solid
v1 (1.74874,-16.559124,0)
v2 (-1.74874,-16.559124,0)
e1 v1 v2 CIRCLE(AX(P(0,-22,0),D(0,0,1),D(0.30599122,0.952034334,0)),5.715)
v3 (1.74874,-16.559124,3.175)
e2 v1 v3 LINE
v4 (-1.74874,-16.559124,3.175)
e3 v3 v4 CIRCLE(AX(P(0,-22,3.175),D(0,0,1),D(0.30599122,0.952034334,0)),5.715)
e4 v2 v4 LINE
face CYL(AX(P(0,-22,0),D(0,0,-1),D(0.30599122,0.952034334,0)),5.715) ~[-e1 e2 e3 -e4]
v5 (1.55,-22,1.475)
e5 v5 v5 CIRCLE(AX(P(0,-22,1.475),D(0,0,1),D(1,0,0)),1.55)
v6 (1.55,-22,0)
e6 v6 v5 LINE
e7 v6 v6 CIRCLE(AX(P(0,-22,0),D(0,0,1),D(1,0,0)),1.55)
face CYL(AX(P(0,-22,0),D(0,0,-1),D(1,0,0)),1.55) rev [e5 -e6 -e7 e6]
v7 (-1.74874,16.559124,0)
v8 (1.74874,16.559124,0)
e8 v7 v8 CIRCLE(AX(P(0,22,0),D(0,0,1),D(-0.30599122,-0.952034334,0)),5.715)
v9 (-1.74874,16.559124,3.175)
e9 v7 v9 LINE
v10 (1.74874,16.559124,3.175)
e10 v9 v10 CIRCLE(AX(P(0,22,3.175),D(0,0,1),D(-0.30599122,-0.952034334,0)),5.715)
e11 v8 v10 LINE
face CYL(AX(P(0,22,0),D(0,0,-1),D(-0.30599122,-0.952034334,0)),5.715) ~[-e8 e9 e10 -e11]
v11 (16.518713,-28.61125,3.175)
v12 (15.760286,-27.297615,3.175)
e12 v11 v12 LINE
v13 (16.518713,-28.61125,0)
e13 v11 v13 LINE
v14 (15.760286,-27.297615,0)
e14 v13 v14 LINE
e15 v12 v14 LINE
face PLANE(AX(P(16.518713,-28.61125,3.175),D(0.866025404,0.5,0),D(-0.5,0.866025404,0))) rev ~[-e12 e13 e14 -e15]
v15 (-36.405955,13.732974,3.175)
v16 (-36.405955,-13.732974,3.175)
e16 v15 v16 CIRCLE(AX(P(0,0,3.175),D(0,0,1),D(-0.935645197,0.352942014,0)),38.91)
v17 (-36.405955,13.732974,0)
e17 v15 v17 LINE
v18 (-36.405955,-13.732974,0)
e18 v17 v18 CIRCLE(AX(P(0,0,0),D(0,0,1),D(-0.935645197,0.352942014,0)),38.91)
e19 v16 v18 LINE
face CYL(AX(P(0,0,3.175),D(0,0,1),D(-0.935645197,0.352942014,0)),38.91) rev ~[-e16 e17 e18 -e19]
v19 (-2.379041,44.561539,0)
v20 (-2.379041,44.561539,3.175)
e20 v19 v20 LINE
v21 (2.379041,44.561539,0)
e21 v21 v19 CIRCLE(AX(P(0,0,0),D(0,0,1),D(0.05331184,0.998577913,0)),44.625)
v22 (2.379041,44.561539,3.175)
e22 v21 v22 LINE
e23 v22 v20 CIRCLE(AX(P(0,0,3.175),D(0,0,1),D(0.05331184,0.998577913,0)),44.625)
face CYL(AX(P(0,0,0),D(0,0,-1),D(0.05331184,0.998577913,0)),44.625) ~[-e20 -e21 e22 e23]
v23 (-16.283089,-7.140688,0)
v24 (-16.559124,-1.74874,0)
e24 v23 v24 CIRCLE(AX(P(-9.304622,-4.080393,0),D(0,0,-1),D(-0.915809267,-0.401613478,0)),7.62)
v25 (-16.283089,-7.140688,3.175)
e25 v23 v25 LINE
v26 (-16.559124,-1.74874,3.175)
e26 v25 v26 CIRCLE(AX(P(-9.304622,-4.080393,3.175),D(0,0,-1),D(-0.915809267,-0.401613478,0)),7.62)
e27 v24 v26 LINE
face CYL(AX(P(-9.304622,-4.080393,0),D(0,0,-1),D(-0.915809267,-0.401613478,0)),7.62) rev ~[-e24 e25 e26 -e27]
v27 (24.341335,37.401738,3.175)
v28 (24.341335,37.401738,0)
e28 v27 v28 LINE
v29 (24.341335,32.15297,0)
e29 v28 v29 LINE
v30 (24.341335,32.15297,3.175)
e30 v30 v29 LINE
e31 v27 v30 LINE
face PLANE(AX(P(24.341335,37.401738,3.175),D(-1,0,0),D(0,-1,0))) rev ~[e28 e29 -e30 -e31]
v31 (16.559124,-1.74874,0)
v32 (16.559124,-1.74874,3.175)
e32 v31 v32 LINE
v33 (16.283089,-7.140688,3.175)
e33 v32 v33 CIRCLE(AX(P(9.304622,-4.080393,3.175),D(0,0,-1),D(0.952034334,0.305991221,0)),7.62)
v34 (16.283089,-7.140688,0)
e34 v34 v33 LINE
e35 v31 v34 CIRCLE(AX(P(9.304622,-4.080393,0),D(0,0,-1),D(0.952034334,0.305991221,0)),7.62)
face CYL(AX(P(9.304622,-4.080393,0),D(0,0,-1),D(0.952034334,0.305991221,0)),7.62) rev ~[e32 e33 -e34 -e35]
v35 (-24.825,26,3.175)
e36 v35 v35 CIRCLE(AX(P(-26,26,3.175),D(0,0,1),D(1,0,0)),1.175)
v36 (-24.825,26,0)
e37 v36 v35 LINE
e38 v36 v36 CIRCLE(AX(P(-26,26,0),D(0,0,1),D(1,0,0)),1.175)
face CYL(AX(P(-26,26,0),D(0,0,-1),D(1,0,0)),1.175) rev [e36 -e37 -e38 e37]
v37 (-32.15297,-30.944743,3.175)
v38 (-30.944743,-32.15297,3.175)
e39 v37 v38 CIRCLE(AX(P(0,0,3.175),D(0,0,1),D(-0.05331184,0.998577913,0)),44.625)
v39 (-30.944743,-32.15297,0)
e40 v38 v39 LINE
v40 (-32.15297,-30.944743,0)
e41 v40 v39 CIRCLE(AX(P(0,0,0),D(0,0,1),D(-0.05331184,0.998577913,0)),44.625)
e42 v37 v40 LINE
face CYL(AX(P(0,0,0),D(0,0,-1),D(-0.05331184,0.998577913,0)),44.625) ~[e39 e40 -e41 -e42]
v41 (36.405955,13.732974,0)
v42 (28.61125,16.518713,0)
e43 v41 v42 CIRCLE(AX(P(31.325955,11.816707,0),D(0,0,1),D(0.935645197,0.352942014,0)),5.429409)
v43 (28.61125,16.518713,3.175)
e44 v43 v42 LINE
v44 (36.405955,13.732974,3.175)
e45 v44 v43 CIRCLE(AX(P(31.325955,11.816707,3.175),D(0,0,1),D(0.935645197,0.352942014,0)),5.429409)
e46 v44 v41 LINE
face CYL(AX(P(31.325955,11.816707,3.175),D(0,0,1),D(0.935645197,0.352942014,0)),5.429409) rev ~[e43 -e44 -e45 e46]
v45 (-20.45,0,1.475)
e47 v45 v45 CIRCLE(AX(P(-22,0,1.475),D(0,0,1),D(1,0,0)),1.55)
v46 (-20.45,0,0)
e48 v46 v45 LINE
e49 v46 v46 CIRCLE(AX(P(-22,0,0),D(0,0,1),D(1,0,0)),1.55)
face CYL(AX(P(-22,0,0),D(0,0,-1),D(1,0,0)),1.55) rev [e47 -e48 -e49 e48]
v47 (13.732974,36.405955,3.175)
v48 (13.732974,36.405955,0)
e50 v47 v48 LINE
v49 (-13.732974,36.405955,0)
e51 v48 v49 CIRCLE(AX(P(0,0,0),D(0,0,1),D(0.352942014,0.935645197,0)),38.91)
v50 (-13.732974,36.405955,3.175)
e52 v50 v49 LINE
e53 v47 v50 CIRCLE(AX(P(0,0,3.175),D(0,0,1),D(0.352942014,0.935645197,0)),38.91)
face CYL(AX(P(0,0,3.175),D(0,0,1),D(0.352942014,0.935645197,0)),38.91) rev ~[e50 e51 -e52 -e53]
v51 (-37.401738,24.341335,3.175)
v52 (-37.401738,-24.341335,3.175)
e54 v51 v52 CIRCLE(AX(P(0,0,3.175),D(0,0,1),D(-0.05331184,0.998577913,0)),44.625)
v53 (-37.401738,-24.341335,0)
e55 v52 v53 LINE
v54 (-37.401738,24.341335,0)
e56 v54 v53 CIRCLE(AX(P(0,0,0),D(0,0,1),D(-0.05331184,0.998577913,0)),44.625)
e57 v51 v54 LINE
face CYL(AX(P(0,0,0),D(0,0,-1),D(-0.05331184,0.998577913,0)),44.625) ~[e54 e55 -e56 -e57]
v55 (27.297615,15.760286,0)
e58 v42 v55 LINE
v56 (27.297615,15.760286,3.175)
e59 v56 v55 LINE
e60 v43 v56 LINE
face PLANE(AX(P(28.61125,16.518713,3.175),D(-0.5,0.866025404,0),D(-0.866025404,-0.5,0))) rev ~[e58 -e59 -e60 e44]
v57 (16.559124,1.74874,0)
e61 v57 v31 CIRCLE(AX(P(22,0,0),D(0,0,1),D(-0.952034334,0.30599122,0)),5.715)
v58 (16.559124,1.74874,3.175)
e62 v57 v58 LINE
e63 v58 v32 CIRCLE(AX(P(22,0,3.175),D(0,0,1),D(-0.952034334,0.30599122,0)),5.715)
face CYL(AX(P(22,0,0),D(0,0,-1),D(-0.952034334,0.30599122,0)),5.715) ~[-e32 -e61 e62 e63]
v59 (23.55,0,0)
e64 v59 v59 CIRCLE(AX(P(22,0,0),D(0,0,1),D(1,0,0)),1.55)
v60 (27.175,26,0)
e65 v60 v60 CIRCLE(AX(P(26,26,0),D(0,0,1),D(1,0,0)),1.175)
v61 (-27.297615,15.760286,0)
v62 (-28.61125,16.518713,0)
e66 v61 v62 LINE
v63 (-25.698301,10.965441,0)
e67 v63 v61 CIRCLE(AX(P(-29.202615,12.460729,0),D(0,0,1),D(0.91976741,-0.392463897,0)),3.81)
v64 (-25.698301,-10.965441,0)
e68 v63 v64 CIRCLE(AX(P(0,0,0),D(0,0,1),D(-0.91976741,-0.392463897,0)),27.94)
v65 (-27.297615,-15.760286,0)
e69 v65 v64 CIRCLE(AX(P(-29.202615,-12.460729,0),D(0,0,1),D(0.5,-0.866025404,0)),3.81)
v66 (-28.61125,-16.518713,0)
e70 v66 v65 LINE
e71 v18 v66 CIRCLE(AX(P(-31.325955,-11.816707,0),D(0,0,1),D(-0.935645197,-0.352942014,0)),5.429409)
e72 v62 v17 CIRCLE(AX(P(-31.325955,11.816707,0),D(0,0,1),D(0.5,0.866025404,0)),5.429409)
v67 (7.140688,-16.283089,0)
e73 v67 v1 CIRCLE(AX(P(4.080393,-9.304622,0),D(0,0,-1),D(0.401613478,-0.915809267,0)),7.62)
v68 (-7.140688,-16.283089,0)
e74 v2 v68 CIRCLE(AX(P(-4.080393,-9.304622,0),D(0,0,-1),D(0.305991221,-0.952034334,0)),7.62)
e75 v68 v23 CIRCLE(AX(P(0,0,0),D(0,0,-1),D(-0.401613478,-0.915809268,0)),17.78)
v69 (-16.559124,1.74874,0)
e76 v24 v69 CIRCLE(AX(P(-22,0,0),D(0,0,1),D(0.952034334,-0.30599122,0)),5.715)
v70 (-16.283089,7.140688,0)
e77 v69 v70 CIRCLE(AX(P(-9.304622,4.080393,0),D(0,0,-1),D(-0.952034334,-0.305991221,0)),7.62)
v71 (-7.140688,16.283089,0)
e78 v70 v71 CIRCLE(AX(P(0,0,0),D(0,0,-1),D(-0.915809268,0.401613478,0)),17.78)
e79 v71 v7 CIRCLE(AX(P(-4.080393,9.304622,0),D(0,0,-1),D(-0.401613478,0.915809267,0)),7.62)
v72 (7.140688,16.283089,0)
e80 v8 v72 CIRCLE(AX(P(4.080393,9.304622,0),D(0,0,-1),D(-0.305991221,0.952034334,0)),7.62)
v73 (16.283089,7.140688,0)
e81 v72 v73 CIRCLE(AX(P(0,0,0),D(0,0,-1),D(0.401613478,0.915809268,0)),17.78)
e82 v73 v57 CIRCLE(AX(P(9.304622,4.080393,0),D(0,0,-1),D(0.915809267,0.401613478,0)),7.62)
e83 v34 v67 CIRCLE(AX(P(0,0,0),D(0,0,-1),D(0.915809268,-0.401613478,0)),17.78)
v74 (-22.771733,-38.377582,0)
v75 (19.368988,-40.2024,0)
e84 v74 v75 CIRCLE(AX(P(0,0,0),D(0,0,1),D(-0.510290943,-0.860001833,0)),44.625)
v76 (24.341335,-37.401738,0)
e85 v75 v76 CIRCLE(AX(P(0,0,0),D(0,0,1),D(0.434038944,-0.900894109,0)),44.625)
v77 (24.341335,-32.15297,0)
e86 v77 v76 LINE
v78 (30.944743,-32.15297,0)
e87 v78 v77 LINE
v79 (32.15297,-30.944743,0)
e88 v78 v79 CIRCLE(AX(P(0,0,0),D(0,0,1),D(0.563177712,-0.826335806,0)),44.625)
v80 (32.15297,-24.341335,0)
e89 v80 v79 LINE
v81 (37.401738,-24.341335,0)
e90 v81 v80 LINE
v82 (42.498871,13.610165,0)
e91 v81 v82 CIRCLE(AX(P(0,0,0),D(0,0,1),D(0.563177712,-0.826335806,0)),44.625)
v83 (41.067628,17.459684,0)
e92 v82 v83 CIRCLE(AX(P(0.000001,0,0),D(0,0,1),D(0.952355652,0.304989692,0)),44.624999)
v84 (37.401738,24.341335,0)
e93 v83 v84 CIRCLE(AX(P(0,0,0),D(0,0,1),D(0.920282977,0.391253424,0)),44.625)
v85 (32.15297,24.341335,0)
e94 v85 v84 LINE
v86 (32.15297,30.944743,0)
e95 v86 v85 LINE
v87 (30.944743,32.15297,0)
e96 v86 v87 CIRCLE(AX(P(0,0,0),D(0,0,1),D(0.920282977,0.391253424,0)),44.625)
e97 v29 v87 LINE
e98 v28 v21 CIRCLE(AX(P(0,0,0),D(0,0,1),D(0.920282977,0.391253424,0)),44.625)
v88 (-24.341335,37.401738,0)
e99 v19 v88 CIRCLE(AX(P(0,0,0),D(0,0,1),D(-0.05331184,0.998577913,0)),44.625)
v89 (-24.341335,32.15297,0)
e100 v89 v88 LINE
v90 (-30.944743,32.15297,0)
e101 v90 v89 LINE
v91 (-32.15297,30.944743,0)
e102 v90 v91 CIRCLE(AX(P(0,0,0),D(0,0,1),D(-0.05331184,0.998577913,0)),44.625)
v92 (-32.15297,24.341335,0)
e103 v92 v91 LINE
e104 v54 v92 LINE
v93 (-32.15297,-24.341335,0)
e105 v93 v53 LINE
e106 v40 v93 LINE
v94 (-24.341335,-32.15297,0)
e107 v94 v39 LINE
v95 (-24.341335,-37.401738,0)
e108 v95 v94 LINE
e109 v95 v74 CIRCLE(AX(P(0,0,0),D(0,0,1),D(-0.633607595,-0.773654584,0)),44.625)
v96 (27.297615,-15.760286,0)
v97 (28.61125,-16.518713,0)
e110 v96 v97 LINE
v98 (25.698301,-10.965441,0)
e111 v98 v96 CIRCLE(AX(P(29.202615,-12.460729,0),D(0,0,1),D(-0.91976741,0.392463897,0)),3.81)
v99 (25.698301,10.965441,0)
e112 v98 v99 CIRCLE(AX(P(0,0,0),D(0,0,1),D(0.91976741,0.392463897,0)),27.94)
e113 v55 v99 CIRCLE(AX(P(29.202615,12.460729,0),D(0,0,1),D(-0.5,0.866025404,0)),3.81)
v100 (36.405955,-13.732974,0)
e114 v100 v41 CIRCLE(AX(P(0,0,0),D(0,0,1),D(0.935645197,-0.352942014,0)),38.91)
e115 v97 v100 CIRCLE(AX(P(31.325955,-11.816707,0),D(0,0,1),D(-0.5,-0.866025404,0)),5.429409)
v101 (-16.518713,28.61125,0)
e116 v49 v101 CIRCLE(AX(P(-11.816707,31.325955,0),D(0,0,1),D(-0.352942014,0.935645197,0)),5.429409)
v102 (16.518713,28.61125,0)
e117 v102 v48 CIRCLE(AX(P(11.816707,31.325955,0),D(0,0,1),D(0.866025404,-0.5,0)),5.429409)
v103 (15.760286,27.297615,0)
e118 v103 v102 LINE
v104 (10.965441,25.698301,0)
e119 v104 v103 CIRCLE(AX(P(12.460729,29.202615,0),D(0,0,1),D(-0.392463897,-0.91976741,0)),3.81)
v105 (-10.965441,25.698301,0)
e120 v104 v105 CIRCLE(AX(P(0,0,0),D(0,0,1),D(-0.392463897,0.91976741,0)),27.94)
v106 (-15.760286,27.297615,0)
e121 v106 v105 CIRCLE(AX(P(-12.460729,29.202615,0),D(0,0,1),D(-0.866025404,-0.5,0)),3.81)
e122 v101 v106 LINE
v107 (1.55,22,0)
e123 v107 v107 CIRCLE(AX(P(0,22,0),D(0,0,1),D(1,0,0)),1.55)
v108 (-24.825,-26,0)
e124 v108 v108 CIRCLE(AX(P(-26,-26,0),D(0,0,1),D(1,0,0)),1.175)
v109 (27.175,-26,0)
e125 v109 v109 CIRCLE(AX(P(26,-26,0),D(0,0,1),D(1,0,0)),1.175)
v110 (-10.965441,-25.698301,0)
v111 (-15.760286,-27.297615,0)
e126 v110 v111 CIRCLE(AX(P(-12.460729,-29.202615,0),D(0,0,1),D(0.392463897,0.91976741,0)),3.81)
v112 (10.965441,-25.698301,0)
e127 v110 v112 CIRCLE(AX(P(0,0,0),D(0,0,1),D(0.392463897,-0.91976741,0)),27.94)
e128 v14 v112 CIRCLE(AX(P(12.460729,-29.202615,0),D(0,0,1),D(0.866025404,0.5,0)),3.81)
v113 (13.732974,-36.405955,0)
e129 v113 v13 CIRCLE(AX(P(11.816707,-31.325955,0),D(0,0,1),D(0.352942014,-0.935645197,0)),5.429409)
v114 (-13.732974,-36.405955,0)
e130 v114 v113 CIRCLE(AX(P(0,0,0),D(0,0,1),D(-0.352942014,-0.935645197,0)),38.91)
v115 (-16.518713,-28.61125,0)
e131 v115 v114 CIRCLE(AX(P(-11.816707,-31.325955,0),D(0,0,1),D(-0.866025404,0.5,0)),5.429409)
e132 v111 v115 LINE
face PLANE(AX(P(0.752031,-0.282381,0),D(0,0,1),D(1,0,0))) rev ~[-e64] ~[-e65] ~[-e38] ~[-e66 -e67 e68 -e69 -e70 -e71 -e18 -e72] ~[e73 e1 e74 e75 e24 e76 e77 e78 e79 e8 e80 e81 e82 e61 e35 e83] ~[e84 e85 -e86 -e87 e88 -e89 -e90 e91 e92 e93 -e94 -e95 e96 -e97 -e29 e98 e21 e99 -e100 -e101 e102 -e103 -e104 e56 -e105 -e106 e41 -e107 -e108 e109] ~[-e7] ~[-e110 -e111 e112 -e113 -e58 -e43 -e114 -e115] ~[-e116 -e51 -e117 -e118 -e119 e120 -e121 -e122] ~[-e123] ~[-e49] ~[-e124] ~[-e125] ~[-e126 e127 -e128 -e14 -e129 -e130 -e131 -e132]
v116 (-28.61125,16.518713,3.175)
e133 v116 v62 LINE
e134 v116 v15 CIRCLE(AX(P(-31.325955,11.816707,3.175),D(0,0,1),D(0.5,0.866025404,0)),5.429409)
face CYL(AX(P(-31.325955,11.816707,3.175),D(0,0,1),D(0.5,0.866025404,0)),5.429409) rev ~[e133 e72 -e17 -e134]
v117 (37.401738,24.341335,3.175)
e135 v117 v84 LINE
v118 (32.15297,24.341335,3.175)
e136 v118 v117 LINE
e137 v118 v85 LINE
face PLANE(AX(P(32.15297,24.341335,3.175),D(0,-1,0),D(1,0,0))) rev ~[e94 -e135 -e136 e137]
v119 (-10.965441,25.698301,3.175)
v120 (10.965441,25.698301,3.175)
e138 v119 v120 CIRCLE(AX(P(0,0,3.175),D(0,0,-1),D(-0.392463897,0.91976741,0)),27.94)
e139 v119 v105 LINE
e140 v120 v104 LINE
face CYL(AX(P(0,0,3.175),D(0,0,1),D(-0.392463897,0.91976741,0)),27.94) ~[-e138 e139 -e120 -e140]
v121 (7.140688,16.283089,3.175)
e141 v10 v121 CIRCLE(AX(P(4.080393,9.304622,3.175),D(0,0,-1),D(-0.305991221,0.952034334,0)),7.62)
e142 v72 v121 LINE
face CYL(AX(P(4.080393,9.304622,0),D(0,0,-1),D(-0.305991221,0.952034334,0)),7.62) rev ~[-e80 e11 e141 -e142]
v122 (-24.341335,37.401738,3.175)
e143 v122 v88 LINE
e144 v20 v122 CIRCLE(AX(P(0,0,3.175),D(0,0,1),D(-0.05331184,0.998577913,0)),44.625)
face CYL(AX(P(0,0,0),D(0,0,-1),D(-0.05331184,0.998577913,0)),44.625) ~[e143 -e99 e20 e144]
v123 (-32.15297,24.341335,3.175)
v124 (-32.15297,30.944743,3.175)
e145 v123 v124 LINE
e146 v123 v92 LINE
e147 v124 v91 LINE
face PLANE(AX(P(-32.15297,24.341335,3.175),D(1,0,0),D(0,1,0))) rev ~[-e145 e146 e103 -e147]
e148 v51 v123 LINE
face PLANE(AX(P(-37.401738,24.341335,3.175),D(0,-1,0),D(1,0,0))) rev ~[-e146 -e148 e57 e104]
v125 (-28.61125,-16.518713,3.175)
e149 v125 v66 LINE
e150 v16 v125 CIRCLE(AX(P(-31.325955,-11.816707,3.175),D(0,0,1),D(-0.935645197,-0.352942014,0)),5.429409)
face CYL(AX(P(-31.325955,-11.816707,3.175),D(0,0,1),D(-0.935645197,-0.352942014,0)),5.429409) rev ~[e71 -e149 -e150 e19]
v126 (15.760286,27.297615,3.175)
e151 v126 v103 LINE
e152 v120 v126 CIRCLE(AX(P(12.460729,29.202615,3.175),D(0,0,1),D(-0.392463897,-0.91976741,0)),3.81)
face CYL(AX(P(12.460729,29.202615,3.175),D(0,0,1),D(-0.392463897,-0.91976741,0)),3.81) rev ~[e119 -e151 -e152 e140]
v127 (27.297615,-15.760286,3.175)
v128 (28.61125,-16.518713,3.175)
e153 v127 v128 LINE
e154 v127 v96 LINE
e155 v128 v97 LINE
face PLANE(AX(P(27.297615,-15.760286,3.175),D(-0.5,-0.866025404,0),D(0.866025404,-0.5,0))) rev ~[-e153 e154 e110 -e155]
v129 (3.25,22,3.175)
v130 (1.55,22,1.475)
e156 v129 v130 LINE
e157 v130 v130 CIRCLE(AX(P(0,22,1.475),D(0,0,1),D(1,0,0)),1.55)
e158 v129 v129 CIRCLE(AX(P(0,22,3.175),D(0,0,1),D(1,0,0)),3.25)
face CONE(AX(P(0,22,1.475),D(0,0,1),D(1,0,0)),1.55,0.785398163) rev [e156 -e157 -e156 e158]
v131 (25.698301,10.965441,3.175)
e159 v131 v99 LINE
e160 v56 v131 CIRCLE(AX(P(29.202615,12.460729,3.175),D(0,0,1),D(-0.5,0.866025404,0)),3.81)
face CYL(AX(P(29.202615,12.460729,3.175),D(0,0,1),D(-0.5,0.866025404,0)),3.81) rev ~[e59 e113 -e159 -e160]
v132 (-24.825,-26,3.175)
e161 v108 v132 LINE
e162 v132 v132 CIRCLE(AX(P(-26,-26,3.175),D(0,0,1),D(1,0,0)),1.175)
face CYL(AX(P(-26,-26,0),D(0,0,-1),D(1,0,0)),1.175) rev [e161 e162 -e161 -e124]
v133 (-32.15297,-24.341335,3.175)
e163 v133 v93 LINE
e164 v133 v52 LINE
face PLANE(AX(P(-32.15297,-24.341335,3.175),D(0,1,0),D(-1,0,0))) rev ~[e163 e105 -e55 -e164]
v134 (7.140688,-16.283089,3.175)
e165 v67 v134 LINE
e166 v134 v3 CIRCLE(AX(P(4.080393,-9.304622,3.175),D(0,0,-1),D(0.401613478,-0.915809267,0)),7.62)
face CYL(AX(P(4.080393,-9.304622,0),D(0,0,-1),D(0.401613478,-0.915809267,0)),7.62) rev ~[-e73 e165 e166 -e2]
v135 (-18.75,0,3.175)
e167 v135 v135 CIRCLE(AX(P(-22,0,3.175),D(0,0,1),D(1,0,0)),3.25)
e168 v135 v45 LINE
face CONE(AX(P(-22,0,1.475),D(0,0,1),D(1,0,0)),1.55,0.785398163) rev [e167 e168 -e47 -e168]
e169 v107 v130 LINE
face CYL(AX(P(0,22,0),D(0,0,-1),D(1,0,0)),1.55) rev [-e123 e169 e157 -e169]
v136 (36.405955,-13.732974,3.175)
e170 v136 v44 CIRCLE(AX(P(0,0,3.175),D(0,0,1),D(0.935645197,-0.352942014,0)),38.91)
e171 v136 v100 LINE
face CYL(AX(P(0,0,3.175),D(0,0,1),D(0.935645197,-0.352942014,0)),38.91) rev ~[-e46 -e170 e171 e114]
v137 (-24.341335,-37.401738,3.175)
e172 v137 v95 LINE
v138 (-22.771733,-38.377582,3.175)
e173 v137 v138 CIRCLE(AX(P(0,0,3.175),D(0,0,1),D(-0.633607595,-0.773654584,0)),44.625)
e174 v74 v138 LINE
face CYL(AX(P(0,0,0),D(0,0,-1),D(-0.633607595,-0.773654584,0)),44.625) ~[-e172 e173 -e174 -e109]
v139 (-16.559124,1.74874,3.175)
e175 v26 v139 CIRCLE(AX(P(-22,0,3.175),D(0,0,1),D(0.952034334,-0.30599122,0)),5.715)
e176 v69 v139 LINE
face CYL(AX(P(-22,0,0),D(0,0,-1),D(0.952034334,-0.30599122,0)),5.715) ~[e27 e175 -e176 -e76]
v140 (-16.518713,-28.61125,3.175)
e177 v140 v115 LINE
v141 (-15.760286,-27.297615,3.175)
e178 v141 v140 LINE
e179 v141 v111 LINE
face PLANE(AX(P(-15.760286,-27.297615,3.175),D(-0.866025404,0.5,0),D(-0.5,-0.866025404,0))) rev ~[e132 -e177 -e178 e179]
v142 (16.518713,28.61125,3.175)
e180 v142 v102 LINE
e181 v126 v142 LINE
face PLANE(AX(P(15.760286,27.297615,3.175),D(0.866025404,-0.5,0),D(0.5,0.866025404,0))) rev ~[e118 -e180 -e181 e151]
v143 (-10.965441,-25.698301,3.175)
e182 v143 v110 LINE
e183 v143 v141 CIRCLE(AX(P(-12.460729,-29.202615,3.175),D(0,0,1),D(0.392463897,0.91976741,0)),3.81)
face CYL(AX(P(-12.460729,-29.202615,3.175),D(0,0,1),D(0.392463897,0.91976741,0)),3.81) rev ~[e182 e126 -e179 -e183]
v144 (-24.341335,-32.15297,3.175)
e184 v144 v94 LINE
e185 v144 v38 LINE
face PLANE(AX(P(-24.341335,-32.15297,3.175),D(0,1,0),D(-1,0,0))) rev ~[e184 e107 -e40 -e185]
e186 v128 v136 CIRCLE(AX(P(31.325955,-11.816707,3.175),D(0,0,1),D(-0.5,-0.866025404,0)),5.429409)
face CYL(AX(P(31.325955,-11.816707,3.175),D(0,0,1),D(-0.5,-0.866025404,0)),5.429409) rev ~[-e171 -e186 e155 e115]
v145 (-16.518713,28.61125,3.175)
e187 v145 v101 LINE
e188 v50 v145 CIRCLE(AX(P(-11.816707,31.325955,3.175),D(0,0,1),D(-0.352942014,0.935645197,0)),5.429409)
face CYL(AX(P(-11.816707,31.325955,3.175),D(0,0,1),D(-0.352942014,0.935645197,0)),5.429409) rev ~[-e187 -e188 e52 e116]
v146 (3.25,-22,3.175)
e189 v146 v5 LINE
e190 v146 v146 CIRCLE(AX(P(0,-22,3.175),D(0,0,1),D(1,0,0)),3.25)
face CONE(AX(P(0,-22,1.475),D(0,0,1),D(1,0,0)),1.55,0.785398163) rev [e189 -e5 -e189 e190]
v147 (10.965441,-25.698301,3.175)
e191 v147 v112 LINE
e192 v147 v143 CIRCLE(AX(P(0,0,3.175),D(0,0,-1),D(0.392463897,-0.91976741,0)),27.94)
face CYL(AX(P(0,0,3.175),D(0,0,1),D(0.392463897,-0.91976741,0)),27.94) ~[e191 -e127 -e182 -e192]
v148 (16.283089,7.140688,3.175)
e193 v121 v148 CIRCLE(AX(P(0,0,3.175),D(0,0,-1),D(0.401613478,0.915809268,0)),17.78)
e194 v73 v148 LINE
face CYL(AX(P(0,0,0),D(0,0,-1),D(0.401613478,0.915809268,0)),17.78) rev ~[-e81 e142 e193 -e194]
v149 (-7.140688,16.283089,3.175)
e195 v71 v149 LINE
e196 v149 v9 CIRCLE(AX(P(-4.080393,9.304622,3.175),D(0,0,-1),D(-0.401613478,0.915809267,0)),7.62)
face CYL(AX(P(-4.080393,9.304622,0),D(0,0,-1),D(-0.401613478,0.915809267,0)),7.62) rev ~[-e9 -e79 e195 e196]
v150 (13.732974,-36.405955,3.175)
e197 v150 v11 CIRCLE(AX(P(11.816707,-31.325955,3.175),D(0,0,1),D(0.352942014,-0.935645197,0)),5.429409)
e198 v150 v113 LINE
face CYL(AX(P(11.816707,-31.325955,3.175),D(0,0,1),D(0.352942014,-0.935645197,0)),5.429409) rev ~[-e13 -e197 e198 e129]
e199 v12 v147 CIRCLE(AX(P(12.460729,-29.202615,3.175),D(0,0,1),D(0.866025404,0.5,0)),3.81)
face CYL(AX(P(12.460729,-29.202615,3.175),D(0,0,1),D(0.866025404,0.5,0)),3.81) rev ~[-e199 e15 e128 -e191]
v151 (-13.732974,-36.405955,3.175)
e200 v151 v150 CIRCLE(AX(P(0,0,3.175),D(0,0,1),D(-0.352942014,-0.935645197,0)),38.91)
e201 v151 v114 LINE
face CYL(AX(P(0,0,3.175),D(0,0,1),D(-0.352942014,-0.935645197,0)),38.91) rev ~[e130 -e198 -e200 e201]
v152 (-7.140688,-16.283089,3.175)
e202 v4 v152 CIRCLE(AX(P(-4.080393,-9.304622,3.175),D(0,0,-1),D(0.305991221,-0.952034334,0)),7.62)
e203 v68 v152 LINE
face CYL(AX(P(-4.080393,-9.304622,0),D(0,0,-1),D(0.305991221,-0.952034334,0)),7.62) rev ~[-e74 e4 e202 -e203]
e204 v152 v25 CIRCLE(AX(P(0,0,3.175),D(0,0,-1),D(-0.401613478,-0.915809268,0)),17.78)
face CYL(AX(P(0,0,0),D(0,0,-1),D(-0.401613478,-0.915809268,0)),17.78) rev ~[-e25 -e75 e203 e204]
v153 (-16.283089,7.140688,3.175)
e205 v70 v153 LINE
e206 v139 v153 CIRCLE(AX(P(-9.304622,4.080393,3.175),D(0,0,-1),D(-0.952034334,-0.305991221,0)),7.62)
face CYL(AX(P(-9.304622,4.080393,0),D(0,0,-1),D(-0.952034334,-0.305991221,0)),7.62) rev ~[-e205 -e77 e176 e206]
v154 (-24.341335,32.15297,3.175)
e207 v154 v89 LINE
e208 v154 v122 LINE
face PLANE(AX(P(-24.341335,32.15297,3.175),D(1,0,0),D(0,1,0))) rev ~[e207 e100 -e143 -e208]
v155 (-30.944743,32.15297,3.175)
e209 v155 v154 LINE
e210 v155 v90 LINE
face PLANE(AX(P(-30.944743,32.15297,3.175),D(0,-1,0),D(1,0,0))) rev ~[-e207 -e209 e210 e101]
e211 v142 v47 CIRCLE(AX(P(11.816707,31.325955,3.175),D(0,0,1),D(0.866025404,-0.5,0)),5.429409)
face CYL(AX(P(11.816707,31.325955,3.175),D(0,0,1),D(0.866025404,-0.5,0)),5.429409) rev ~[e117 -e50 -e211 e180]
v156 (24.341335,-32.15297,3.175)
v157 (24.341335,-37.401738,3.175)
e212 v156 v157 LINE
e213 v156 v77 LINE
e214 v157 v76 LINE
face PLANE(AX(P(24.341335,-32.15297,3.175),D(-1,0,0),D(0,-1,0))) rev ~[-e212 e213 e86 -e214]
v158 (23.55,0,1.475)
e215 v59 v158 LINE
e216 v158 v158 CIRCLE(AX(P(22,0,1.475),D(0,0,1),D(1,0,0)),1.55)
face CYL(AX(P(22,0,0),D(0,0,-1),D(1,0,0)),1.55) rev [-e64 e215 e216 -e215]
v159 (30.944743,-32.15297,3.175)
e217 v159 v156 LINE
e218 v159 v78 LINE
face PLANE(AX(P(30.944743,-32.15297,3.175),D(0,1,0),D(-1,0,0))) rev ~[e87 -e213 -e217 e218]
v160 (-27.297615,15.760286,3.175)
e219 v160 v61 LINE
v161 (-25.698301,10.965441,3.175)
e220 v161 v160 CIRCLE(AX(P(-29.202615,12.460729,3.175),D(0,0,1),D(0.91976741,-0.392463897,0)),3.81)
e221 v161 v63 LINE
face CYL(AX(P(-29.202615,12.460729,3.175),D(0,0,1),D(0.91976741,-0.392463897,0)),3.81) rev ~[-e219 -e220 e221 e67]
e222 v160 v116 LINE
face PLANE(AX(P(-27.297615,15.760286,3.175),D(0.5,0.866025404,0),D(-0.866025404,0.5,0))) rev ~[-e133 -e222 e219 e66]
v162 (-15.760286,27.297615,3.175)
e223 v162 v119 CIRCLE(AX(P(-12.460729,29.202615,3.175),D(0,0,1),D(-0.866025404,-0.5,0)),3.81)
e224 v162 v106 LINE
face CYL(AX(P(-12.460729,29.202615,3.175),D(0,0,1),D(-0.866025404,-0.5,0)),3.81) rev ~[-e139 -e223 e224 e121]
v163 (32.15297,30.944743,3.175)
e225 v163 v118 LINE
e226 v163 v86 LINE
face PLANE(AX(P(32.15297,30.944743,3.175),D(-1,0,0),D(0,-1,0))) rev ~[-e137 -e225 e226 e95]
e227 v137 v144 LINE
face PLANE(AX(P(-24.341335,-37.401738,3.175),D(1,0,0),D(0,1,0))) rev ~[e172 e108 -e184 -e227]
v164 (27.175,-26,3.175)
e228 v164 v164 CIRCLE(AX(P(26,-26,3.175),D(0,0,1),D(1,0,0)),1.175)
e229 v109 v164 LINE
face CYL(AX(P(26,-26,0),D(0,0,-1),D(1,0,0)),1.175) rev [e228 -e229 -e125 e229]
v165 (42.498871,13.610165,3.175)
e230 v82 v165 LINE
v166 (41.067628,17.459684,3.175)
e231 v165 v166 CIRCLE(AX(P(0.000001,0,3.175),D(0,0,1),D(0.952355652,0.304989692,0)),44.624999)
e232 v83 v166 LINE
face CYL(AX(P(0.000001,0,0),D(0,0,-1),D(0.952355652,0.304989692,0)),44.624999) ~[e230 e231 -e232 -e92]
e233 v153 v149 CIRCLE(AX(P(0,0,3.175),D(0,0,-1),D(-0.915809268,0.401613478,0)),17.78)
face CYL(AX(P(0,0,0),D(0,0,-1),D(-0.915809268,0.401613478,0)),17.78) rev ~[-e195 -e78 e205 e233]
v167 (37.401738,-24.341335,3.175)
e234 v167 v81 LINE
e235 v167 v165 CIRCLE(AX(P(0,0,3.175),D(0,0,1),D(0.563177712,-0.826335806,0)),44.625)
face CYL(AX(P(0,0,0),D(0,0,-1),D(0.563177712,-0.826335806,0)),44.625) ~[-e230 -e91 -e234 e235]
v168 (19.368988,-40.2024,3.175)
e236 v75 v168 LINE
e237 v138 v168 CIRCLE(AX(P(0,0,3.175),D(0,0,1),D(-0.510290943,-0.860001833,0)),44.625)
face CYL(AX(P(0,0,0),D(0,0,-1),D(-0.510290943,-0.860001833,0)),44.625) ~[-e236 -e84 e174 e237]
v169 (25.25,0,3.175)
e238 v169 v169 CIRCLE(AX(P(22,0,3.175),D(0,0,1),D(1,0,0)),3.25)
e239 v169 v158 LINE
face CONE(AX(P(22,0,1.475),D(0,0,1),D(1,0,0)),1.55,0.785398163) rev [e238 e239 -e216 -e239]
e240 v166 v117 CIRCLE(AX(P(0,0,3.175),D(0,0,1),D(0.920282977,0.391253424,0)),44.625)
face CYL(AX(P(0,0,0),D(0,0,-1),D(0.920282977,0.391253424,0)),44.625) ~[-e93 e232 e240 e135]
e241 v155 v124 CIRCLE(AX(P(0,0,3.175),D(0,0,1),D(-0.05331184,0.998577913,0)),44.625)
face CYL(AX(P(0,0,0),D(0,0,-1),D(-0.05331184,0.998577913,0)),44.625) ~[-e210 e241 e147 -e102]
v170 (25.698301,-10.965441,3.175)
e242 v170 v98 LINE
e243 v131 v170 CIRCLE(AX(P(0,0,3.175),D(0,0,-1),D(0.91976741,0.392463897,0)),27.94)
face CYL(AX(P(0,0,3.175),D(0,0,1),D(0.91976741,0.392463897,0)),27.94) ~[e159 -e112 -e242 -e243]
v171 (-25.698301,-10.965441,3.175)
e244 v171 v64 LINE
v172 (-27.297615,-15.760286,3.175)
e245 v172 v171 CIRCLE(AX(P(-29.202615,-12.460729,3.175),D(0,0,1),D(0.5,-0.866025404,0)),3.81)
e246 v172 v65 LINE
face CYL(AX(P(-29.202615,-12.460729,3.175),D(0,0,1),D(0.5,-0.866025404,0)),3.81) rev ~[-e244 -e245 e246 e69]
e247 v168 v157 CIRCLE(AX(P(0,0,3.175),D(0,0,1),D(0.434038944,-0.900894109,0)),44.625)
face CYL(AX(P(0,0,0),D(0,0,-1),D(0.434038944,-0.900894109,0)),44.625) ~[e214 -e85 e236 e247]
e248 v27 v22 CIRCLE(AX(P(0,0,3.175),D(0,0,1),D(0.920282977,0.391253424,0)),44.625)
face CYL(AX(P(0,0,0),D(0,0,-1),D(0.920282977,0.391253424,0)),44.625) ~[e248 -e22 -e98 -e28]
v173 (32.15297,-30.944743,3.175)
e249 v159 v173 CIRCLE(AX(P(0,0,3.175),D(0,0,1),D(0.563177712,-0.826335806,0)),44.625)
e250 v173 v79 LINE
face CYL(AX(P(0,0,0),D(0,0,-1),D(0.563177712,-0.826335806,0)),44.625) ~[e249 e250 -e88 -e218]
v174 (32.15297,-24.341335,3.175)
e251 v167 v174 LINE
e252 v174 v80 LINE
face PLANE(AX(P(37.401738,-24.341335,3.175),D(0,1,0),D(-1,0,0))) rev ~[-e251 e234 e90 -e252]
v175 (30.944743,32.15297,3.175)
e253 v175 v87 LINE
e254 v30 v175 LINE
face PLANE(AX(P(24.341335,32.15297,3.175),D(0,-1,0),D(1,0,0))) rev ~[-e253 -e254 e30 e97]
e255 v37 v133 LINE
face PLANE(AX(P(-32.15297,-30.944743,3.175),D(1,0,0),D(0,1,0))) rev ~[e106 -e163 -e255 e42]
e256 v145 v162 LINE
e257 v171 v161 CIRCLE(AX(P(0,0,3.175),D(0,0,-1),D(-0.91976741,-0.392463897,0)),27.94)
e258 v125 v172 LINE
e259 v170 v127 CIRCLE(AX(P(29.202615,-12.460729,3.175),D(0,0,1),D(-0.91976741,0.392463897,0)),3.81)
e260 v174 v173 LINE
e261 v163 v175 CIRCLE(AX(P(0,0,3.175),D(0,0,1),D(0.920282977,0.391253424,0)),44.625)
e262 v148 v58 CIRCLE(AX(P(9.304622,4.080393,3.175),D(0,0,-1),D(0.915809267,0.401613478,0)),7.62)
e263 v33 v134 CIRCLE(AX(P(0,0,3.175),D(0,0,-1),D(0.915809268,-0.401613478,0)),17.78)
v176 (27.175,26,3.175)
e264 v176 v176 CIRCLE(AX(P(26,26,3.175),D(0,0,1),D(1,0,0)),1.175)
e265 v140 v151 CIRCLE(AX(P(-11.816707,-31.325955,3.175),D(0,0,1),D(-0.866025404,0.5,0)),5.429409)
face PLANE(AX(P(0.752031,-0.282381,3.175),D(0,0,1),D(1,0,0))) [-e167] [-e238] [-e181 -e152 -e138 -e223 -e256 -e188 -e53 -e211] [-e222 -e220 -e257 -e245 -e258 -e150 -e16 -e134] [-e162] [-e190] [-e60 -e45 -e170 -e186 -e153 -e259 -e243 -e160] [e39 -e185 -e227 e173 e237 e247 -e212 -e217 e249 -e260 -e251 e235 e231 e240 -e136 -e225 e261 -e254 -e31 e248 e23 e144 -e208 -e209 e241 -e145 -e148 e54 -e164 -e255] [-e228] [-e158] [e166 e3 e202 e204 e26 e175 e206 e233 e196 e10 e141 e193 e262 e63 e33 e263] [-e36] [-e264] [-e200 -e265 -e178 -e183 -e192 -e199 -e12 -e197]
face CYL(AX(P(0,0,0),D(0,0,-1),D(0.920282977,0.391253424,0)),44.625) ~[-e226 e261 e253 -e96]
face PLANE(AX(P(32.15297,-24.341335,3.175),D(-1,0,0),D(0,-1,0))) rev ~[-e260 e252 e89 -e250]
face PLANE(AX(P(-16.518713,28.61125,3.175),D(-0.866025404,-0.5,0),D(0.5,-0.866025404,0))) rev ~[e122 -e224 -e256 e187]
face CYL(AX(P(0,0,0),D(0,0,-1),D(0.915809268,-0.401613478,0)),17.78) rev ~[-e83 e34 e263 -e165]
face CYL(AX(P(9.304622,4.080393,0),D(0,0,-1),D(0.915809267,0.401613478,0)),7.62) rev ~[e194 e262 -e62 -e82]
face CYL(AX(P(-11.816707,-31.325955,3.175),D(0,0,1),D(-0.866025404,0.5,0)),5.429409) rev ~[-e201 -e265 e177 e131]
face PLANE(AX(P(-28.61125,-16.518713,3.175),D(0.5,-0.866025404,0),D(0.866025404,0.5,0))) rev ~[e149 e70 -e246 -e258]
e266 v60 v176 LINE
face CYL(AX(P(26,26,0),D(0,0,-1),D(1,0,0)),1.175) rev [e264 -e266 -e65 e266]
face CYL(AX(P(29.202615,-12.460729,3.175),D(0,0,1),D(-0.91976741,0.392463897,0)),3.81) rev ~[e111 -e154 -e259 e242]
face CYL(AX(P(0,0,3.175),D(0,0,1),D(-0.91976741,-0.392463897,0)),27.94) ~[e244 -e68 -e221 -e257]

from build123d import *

# Parameters (mm, degrees)
SKETCH1_R           = 1.175
SKETCH1_R_2         = 1.55
BOSS_EXTRUDE1_DEPTH = 3.175
CUT_EXTRUDE2_DEPTH  = 64.189096172
CUT_EXTRUDE1_DEPTH  = 64.189096172
CIRPATTERN1_COUNT   = 4
CHAMFER1_SIZE       = 1.7


with BuildPart() as part:
    # Sketch1 → Boss-Extrude1 (new body)
    with BuildSketch(Plane.XY):
        with BuildLine():
            ThreePointArc((-28.274738921, -34.524335822), (-25.595848472, -36.554659976), (-22.771733351, -38.377581805))
            ThreePointArc((-22.771733351, -38.377581805), (-1.930585195, -44.583219554), (19.368987874, -40.202399602))
            ThreePointArc((19.368987874, -40.202399602), (22.3125, -38.646383644), (25.131805412, -36.875235345))
            ThreePointArc((25.131805412, -36.875235345), (42.197997698, -14.516184597), (42.498870951, 13.610165056))
            ThreePointArc((42.498870951, 13.610165056), (41.827558264, 15.551398481), (41.067627867, 17.459684027))
            ThreePointArc((41.067627867, 17.459684027), (25.603337609, 36.549414883), (2.379040875, 44.561539353))
            ThreePointArc((2.379040875, 44.561539353), (0, 44.625), (-2.379040875, 44.561539353))
            ThreePointArc((-2.379040875, 44.561539353), (-42.409403049, 13.886437917), (-28.274738921, -34.524335822))
        make_face()
        with Locations((-26, -26)):
            Circle(SKETCH1_R, mode=Mode.SUBTRACT)
        with Locations((0, -22)):
            Circle(SKETCH1_R_2, mode=Mode.SUBTRACT)
        with Locations((-22, 0)):
            Circle(SKETCH1_R_2, mode=Mode.SUBTRACT)
        with BuildLine():
            ThreePointArc((-7.14068763, 16.283088778), (-4.469980501, 16.914656425), (-1.748739828, 16.559123782))
            ThreePointArc((-1.748739828, 16.559123782), (0, 16.285), (1.748739828, 16.559123782))
            ThreePointArc((1.748739828, 16.559123782), (4.469980501, 16.914656425), (7.14068763, 16.283088778))
            ThreePointArc((7.14068763, 16.283088778), (12.572358569, 12.572358569), (16.283088778, 7.14068763))
            ThreePointArc((16.283088778, 7.14068763), (16.914656425, 4.469980501), (16.559123782, 1.748739828))
            ThreePointArc((16.559123782, 1.748739828), (16.285, 0), (16.559123782, -1.748739828))
            ThreePointArc((16.559123782, -1.748739828), (16.914656425, -4.469980501), (16.283088778, -7.14068763))
            ThreePointArc((16.283088778, -7.14068763), (12.572358569, -12.572358569), (7.14068763, -16.283088778))
            ThreePointArc((7.14068763, -16.283088778), (4.469980501, -16.914656425), (1.748739828, -16.559123782))
            ThreePointArc((1.748739828, -16.559123782), (0, -16.285), (-1.748739828, -16.559123782))
            ThreePointArc((-1.748739828, -16.559123782), (-4.469980501, -16.914656425), (-7.14068763, -16.283088778))
            ThreePointArc((-7.14068763, -16.283088778), (-12.572358569, -12.572358569), (-16.283088778, -7.14068763))
            ThreePointArc((-16.283088778, -7.14068763), (-16.914656425, -4.469980501), (-16.559123782, -1.748739828))
            ThreePointArc((-16.559123782, -1.748739828), (-16.285, 0), (-16.559123782, 1.748739828))
            ThreePointArc((-16.559123782, 1.748739828), (-16.914656425, 4.469980501), (-16.283088778, 7.14068763))
            ThreePointArc((-16.283088778, 7.14068763), (-12.572358569, 12.572358569), (-7.14068763, 16.283088778))
        make_face(mode=Mode.SUBTRACT)
        with Locations((26, -26)):
            Circle(SKETCH1_R, mode=Mode.SUBTRACT)
        with Locations((22, 0)):
            Circle(SKETCH1_R_2, mode=Mode.SUBTRACT)
        with Locations((0, 22)):
            Circle(SKETCH1_R_2, mode=Mode.SUBTRACT)
        with Locations((-26, 26)):
            Circle(SKETCH1_R, mode=Mode.SUBTRACT)
        with Locations((26, 26)):
            Circle(SKETCH1_R, mode=Mode.SUBTRACT)
    extrude(amount=BOSS_EXTRUDE1_DEPTH)

    # Sketch3 → Cut-Extrude2 (cut, through all)
    with BuildSketch(Plane.XY.offset(3.175)):
        Polygon((-36.863511092, 36.863511092), (-54.798863679, 36.863511092), (-54.798863679, 24.341335398), (-32.152970188, 24.341335398), (-32.152970188, 32.152970188), (-36.863511092, 32.152970188), align=None)
        Polygon((-36.863511092, 54.798863679), (-36.863511092, 36.863511092), (-32.152970188, 36.863511092), (-32.152970188, 32.152970188), (-24.341335398, 32.152970188), (-24.341335398, 54.798863679), align=None)
        Polygon((-32.152970188, -32.152970188), (-32.152970188, -24.341335398), (-54.798863679, -24.341335398), (-54.798863679, -36.863511092), (-36.863511092, -36.863511092), (-36.863511092, -54.798863679), (-24.341335398, -54.798863679), (-24.341335398, -32.152970188), align=None)
        Polygon((24.341335398, 32.152970188), (32.152970188, 32.152970188), (32.152970188, 36.863511092), (36.863511092, 36.863511092), (36.863511092, 54.798863679), (24.341335398, 54.798863679), align=None)
        Polygon((36.863511092, 32.152970188), (32.152970188, 32.152970188), (32.152970188, 24.341335398), (54.798863679, 24.341335398), (54.798863679, 36.863511092), (36.863511092, 36.863511092), align=None)
        Polygon((32.152970188, -32.152970188), (24.341335398, -32.152970188), (24.341335398, -54.798863679), (36.863511092, -54.798863679), (36.863511092, -36.863511092), (32.152970188, -36.863511092), align=None)
        Polygon((32.152970188, -32.152970188), (36.863511092, -32.152970188), (36.863511092, -36.863511092), (54.798863679, -36.863511092), (54.798863679, -24.341335398), (32.152970188, -24.341335398), align=None)
    extrude(amount=-CUT_EXTRUDE2_DEPTH, mode=Mode.SUBTRACT)

    # Sketch2 → Cut-Extrude1 (cut, through all)
    with BuildSketch(Plane.XY.offset(3.175)):
        with BuildLine():
            Line((-16.518713095, 28.611250357), (-15.76028553, 27.29761528))
            ThreePointArc((-15.76028553, 27.29761528), (-13.666256903, 25.588365448), (-10.965441293, 25.698301447))
            ThreePointArc((-10.965441293, 25.698301447), (0, 27.94), (10.965441293, 25.698301447))
            ThreePointArc((10.965441293, 25.698301447), (13.666256903, 25.588365448), (15.76028553, 27.29761528))
            Line((15.76028553, 27.29761528), (16.518713095, 28.611250357))
            ThreePointArc((16.518713095, 28.611250357), (16.929410685, 33.153177065), (13.732973771, 36.405954615))
            ThreePointArc((13.732973771, 36.405954615), (0, 38.91), (-13.732973771, 36.405954615))
            ThreePointArc((-13.732973771, 36.405954615), (-16.929410685, 33.153177065), (-16.518713095, 28.611250357))
        make_face()
    cut_extrude1 = extrude(amount=-CUT_EXTRUDE1_DEPTH, mode=Mode.SUBTRACT)

    # CirPattern1: Cut-Extrude1 ×4 about axis
    cirpattern1_axis = Axis((0, 0, 3.175), (0, 0, -1))
    for i in range(1, CIRPATTERN1_COUNT):
        add(cut_extrude1.rotate(cirpattern1_axis, i * 360 / CIRPATTERN1_COUNT), mode=Mode.SUBTRACT)

    # Chamfer1
    chamfer1_edges = [part.edges().sort_by_distance(p)[0] for p in [
        (-23.55, 0, 3.175),
        (-1.55, -22, 3.175),
        (20.45, 0, 3.175),
        (-1.55, 22, 3.175),
    ]]
    chamfer(chamfer1_edges, length=CHAMFER1_SIZE)


solid = part.part
